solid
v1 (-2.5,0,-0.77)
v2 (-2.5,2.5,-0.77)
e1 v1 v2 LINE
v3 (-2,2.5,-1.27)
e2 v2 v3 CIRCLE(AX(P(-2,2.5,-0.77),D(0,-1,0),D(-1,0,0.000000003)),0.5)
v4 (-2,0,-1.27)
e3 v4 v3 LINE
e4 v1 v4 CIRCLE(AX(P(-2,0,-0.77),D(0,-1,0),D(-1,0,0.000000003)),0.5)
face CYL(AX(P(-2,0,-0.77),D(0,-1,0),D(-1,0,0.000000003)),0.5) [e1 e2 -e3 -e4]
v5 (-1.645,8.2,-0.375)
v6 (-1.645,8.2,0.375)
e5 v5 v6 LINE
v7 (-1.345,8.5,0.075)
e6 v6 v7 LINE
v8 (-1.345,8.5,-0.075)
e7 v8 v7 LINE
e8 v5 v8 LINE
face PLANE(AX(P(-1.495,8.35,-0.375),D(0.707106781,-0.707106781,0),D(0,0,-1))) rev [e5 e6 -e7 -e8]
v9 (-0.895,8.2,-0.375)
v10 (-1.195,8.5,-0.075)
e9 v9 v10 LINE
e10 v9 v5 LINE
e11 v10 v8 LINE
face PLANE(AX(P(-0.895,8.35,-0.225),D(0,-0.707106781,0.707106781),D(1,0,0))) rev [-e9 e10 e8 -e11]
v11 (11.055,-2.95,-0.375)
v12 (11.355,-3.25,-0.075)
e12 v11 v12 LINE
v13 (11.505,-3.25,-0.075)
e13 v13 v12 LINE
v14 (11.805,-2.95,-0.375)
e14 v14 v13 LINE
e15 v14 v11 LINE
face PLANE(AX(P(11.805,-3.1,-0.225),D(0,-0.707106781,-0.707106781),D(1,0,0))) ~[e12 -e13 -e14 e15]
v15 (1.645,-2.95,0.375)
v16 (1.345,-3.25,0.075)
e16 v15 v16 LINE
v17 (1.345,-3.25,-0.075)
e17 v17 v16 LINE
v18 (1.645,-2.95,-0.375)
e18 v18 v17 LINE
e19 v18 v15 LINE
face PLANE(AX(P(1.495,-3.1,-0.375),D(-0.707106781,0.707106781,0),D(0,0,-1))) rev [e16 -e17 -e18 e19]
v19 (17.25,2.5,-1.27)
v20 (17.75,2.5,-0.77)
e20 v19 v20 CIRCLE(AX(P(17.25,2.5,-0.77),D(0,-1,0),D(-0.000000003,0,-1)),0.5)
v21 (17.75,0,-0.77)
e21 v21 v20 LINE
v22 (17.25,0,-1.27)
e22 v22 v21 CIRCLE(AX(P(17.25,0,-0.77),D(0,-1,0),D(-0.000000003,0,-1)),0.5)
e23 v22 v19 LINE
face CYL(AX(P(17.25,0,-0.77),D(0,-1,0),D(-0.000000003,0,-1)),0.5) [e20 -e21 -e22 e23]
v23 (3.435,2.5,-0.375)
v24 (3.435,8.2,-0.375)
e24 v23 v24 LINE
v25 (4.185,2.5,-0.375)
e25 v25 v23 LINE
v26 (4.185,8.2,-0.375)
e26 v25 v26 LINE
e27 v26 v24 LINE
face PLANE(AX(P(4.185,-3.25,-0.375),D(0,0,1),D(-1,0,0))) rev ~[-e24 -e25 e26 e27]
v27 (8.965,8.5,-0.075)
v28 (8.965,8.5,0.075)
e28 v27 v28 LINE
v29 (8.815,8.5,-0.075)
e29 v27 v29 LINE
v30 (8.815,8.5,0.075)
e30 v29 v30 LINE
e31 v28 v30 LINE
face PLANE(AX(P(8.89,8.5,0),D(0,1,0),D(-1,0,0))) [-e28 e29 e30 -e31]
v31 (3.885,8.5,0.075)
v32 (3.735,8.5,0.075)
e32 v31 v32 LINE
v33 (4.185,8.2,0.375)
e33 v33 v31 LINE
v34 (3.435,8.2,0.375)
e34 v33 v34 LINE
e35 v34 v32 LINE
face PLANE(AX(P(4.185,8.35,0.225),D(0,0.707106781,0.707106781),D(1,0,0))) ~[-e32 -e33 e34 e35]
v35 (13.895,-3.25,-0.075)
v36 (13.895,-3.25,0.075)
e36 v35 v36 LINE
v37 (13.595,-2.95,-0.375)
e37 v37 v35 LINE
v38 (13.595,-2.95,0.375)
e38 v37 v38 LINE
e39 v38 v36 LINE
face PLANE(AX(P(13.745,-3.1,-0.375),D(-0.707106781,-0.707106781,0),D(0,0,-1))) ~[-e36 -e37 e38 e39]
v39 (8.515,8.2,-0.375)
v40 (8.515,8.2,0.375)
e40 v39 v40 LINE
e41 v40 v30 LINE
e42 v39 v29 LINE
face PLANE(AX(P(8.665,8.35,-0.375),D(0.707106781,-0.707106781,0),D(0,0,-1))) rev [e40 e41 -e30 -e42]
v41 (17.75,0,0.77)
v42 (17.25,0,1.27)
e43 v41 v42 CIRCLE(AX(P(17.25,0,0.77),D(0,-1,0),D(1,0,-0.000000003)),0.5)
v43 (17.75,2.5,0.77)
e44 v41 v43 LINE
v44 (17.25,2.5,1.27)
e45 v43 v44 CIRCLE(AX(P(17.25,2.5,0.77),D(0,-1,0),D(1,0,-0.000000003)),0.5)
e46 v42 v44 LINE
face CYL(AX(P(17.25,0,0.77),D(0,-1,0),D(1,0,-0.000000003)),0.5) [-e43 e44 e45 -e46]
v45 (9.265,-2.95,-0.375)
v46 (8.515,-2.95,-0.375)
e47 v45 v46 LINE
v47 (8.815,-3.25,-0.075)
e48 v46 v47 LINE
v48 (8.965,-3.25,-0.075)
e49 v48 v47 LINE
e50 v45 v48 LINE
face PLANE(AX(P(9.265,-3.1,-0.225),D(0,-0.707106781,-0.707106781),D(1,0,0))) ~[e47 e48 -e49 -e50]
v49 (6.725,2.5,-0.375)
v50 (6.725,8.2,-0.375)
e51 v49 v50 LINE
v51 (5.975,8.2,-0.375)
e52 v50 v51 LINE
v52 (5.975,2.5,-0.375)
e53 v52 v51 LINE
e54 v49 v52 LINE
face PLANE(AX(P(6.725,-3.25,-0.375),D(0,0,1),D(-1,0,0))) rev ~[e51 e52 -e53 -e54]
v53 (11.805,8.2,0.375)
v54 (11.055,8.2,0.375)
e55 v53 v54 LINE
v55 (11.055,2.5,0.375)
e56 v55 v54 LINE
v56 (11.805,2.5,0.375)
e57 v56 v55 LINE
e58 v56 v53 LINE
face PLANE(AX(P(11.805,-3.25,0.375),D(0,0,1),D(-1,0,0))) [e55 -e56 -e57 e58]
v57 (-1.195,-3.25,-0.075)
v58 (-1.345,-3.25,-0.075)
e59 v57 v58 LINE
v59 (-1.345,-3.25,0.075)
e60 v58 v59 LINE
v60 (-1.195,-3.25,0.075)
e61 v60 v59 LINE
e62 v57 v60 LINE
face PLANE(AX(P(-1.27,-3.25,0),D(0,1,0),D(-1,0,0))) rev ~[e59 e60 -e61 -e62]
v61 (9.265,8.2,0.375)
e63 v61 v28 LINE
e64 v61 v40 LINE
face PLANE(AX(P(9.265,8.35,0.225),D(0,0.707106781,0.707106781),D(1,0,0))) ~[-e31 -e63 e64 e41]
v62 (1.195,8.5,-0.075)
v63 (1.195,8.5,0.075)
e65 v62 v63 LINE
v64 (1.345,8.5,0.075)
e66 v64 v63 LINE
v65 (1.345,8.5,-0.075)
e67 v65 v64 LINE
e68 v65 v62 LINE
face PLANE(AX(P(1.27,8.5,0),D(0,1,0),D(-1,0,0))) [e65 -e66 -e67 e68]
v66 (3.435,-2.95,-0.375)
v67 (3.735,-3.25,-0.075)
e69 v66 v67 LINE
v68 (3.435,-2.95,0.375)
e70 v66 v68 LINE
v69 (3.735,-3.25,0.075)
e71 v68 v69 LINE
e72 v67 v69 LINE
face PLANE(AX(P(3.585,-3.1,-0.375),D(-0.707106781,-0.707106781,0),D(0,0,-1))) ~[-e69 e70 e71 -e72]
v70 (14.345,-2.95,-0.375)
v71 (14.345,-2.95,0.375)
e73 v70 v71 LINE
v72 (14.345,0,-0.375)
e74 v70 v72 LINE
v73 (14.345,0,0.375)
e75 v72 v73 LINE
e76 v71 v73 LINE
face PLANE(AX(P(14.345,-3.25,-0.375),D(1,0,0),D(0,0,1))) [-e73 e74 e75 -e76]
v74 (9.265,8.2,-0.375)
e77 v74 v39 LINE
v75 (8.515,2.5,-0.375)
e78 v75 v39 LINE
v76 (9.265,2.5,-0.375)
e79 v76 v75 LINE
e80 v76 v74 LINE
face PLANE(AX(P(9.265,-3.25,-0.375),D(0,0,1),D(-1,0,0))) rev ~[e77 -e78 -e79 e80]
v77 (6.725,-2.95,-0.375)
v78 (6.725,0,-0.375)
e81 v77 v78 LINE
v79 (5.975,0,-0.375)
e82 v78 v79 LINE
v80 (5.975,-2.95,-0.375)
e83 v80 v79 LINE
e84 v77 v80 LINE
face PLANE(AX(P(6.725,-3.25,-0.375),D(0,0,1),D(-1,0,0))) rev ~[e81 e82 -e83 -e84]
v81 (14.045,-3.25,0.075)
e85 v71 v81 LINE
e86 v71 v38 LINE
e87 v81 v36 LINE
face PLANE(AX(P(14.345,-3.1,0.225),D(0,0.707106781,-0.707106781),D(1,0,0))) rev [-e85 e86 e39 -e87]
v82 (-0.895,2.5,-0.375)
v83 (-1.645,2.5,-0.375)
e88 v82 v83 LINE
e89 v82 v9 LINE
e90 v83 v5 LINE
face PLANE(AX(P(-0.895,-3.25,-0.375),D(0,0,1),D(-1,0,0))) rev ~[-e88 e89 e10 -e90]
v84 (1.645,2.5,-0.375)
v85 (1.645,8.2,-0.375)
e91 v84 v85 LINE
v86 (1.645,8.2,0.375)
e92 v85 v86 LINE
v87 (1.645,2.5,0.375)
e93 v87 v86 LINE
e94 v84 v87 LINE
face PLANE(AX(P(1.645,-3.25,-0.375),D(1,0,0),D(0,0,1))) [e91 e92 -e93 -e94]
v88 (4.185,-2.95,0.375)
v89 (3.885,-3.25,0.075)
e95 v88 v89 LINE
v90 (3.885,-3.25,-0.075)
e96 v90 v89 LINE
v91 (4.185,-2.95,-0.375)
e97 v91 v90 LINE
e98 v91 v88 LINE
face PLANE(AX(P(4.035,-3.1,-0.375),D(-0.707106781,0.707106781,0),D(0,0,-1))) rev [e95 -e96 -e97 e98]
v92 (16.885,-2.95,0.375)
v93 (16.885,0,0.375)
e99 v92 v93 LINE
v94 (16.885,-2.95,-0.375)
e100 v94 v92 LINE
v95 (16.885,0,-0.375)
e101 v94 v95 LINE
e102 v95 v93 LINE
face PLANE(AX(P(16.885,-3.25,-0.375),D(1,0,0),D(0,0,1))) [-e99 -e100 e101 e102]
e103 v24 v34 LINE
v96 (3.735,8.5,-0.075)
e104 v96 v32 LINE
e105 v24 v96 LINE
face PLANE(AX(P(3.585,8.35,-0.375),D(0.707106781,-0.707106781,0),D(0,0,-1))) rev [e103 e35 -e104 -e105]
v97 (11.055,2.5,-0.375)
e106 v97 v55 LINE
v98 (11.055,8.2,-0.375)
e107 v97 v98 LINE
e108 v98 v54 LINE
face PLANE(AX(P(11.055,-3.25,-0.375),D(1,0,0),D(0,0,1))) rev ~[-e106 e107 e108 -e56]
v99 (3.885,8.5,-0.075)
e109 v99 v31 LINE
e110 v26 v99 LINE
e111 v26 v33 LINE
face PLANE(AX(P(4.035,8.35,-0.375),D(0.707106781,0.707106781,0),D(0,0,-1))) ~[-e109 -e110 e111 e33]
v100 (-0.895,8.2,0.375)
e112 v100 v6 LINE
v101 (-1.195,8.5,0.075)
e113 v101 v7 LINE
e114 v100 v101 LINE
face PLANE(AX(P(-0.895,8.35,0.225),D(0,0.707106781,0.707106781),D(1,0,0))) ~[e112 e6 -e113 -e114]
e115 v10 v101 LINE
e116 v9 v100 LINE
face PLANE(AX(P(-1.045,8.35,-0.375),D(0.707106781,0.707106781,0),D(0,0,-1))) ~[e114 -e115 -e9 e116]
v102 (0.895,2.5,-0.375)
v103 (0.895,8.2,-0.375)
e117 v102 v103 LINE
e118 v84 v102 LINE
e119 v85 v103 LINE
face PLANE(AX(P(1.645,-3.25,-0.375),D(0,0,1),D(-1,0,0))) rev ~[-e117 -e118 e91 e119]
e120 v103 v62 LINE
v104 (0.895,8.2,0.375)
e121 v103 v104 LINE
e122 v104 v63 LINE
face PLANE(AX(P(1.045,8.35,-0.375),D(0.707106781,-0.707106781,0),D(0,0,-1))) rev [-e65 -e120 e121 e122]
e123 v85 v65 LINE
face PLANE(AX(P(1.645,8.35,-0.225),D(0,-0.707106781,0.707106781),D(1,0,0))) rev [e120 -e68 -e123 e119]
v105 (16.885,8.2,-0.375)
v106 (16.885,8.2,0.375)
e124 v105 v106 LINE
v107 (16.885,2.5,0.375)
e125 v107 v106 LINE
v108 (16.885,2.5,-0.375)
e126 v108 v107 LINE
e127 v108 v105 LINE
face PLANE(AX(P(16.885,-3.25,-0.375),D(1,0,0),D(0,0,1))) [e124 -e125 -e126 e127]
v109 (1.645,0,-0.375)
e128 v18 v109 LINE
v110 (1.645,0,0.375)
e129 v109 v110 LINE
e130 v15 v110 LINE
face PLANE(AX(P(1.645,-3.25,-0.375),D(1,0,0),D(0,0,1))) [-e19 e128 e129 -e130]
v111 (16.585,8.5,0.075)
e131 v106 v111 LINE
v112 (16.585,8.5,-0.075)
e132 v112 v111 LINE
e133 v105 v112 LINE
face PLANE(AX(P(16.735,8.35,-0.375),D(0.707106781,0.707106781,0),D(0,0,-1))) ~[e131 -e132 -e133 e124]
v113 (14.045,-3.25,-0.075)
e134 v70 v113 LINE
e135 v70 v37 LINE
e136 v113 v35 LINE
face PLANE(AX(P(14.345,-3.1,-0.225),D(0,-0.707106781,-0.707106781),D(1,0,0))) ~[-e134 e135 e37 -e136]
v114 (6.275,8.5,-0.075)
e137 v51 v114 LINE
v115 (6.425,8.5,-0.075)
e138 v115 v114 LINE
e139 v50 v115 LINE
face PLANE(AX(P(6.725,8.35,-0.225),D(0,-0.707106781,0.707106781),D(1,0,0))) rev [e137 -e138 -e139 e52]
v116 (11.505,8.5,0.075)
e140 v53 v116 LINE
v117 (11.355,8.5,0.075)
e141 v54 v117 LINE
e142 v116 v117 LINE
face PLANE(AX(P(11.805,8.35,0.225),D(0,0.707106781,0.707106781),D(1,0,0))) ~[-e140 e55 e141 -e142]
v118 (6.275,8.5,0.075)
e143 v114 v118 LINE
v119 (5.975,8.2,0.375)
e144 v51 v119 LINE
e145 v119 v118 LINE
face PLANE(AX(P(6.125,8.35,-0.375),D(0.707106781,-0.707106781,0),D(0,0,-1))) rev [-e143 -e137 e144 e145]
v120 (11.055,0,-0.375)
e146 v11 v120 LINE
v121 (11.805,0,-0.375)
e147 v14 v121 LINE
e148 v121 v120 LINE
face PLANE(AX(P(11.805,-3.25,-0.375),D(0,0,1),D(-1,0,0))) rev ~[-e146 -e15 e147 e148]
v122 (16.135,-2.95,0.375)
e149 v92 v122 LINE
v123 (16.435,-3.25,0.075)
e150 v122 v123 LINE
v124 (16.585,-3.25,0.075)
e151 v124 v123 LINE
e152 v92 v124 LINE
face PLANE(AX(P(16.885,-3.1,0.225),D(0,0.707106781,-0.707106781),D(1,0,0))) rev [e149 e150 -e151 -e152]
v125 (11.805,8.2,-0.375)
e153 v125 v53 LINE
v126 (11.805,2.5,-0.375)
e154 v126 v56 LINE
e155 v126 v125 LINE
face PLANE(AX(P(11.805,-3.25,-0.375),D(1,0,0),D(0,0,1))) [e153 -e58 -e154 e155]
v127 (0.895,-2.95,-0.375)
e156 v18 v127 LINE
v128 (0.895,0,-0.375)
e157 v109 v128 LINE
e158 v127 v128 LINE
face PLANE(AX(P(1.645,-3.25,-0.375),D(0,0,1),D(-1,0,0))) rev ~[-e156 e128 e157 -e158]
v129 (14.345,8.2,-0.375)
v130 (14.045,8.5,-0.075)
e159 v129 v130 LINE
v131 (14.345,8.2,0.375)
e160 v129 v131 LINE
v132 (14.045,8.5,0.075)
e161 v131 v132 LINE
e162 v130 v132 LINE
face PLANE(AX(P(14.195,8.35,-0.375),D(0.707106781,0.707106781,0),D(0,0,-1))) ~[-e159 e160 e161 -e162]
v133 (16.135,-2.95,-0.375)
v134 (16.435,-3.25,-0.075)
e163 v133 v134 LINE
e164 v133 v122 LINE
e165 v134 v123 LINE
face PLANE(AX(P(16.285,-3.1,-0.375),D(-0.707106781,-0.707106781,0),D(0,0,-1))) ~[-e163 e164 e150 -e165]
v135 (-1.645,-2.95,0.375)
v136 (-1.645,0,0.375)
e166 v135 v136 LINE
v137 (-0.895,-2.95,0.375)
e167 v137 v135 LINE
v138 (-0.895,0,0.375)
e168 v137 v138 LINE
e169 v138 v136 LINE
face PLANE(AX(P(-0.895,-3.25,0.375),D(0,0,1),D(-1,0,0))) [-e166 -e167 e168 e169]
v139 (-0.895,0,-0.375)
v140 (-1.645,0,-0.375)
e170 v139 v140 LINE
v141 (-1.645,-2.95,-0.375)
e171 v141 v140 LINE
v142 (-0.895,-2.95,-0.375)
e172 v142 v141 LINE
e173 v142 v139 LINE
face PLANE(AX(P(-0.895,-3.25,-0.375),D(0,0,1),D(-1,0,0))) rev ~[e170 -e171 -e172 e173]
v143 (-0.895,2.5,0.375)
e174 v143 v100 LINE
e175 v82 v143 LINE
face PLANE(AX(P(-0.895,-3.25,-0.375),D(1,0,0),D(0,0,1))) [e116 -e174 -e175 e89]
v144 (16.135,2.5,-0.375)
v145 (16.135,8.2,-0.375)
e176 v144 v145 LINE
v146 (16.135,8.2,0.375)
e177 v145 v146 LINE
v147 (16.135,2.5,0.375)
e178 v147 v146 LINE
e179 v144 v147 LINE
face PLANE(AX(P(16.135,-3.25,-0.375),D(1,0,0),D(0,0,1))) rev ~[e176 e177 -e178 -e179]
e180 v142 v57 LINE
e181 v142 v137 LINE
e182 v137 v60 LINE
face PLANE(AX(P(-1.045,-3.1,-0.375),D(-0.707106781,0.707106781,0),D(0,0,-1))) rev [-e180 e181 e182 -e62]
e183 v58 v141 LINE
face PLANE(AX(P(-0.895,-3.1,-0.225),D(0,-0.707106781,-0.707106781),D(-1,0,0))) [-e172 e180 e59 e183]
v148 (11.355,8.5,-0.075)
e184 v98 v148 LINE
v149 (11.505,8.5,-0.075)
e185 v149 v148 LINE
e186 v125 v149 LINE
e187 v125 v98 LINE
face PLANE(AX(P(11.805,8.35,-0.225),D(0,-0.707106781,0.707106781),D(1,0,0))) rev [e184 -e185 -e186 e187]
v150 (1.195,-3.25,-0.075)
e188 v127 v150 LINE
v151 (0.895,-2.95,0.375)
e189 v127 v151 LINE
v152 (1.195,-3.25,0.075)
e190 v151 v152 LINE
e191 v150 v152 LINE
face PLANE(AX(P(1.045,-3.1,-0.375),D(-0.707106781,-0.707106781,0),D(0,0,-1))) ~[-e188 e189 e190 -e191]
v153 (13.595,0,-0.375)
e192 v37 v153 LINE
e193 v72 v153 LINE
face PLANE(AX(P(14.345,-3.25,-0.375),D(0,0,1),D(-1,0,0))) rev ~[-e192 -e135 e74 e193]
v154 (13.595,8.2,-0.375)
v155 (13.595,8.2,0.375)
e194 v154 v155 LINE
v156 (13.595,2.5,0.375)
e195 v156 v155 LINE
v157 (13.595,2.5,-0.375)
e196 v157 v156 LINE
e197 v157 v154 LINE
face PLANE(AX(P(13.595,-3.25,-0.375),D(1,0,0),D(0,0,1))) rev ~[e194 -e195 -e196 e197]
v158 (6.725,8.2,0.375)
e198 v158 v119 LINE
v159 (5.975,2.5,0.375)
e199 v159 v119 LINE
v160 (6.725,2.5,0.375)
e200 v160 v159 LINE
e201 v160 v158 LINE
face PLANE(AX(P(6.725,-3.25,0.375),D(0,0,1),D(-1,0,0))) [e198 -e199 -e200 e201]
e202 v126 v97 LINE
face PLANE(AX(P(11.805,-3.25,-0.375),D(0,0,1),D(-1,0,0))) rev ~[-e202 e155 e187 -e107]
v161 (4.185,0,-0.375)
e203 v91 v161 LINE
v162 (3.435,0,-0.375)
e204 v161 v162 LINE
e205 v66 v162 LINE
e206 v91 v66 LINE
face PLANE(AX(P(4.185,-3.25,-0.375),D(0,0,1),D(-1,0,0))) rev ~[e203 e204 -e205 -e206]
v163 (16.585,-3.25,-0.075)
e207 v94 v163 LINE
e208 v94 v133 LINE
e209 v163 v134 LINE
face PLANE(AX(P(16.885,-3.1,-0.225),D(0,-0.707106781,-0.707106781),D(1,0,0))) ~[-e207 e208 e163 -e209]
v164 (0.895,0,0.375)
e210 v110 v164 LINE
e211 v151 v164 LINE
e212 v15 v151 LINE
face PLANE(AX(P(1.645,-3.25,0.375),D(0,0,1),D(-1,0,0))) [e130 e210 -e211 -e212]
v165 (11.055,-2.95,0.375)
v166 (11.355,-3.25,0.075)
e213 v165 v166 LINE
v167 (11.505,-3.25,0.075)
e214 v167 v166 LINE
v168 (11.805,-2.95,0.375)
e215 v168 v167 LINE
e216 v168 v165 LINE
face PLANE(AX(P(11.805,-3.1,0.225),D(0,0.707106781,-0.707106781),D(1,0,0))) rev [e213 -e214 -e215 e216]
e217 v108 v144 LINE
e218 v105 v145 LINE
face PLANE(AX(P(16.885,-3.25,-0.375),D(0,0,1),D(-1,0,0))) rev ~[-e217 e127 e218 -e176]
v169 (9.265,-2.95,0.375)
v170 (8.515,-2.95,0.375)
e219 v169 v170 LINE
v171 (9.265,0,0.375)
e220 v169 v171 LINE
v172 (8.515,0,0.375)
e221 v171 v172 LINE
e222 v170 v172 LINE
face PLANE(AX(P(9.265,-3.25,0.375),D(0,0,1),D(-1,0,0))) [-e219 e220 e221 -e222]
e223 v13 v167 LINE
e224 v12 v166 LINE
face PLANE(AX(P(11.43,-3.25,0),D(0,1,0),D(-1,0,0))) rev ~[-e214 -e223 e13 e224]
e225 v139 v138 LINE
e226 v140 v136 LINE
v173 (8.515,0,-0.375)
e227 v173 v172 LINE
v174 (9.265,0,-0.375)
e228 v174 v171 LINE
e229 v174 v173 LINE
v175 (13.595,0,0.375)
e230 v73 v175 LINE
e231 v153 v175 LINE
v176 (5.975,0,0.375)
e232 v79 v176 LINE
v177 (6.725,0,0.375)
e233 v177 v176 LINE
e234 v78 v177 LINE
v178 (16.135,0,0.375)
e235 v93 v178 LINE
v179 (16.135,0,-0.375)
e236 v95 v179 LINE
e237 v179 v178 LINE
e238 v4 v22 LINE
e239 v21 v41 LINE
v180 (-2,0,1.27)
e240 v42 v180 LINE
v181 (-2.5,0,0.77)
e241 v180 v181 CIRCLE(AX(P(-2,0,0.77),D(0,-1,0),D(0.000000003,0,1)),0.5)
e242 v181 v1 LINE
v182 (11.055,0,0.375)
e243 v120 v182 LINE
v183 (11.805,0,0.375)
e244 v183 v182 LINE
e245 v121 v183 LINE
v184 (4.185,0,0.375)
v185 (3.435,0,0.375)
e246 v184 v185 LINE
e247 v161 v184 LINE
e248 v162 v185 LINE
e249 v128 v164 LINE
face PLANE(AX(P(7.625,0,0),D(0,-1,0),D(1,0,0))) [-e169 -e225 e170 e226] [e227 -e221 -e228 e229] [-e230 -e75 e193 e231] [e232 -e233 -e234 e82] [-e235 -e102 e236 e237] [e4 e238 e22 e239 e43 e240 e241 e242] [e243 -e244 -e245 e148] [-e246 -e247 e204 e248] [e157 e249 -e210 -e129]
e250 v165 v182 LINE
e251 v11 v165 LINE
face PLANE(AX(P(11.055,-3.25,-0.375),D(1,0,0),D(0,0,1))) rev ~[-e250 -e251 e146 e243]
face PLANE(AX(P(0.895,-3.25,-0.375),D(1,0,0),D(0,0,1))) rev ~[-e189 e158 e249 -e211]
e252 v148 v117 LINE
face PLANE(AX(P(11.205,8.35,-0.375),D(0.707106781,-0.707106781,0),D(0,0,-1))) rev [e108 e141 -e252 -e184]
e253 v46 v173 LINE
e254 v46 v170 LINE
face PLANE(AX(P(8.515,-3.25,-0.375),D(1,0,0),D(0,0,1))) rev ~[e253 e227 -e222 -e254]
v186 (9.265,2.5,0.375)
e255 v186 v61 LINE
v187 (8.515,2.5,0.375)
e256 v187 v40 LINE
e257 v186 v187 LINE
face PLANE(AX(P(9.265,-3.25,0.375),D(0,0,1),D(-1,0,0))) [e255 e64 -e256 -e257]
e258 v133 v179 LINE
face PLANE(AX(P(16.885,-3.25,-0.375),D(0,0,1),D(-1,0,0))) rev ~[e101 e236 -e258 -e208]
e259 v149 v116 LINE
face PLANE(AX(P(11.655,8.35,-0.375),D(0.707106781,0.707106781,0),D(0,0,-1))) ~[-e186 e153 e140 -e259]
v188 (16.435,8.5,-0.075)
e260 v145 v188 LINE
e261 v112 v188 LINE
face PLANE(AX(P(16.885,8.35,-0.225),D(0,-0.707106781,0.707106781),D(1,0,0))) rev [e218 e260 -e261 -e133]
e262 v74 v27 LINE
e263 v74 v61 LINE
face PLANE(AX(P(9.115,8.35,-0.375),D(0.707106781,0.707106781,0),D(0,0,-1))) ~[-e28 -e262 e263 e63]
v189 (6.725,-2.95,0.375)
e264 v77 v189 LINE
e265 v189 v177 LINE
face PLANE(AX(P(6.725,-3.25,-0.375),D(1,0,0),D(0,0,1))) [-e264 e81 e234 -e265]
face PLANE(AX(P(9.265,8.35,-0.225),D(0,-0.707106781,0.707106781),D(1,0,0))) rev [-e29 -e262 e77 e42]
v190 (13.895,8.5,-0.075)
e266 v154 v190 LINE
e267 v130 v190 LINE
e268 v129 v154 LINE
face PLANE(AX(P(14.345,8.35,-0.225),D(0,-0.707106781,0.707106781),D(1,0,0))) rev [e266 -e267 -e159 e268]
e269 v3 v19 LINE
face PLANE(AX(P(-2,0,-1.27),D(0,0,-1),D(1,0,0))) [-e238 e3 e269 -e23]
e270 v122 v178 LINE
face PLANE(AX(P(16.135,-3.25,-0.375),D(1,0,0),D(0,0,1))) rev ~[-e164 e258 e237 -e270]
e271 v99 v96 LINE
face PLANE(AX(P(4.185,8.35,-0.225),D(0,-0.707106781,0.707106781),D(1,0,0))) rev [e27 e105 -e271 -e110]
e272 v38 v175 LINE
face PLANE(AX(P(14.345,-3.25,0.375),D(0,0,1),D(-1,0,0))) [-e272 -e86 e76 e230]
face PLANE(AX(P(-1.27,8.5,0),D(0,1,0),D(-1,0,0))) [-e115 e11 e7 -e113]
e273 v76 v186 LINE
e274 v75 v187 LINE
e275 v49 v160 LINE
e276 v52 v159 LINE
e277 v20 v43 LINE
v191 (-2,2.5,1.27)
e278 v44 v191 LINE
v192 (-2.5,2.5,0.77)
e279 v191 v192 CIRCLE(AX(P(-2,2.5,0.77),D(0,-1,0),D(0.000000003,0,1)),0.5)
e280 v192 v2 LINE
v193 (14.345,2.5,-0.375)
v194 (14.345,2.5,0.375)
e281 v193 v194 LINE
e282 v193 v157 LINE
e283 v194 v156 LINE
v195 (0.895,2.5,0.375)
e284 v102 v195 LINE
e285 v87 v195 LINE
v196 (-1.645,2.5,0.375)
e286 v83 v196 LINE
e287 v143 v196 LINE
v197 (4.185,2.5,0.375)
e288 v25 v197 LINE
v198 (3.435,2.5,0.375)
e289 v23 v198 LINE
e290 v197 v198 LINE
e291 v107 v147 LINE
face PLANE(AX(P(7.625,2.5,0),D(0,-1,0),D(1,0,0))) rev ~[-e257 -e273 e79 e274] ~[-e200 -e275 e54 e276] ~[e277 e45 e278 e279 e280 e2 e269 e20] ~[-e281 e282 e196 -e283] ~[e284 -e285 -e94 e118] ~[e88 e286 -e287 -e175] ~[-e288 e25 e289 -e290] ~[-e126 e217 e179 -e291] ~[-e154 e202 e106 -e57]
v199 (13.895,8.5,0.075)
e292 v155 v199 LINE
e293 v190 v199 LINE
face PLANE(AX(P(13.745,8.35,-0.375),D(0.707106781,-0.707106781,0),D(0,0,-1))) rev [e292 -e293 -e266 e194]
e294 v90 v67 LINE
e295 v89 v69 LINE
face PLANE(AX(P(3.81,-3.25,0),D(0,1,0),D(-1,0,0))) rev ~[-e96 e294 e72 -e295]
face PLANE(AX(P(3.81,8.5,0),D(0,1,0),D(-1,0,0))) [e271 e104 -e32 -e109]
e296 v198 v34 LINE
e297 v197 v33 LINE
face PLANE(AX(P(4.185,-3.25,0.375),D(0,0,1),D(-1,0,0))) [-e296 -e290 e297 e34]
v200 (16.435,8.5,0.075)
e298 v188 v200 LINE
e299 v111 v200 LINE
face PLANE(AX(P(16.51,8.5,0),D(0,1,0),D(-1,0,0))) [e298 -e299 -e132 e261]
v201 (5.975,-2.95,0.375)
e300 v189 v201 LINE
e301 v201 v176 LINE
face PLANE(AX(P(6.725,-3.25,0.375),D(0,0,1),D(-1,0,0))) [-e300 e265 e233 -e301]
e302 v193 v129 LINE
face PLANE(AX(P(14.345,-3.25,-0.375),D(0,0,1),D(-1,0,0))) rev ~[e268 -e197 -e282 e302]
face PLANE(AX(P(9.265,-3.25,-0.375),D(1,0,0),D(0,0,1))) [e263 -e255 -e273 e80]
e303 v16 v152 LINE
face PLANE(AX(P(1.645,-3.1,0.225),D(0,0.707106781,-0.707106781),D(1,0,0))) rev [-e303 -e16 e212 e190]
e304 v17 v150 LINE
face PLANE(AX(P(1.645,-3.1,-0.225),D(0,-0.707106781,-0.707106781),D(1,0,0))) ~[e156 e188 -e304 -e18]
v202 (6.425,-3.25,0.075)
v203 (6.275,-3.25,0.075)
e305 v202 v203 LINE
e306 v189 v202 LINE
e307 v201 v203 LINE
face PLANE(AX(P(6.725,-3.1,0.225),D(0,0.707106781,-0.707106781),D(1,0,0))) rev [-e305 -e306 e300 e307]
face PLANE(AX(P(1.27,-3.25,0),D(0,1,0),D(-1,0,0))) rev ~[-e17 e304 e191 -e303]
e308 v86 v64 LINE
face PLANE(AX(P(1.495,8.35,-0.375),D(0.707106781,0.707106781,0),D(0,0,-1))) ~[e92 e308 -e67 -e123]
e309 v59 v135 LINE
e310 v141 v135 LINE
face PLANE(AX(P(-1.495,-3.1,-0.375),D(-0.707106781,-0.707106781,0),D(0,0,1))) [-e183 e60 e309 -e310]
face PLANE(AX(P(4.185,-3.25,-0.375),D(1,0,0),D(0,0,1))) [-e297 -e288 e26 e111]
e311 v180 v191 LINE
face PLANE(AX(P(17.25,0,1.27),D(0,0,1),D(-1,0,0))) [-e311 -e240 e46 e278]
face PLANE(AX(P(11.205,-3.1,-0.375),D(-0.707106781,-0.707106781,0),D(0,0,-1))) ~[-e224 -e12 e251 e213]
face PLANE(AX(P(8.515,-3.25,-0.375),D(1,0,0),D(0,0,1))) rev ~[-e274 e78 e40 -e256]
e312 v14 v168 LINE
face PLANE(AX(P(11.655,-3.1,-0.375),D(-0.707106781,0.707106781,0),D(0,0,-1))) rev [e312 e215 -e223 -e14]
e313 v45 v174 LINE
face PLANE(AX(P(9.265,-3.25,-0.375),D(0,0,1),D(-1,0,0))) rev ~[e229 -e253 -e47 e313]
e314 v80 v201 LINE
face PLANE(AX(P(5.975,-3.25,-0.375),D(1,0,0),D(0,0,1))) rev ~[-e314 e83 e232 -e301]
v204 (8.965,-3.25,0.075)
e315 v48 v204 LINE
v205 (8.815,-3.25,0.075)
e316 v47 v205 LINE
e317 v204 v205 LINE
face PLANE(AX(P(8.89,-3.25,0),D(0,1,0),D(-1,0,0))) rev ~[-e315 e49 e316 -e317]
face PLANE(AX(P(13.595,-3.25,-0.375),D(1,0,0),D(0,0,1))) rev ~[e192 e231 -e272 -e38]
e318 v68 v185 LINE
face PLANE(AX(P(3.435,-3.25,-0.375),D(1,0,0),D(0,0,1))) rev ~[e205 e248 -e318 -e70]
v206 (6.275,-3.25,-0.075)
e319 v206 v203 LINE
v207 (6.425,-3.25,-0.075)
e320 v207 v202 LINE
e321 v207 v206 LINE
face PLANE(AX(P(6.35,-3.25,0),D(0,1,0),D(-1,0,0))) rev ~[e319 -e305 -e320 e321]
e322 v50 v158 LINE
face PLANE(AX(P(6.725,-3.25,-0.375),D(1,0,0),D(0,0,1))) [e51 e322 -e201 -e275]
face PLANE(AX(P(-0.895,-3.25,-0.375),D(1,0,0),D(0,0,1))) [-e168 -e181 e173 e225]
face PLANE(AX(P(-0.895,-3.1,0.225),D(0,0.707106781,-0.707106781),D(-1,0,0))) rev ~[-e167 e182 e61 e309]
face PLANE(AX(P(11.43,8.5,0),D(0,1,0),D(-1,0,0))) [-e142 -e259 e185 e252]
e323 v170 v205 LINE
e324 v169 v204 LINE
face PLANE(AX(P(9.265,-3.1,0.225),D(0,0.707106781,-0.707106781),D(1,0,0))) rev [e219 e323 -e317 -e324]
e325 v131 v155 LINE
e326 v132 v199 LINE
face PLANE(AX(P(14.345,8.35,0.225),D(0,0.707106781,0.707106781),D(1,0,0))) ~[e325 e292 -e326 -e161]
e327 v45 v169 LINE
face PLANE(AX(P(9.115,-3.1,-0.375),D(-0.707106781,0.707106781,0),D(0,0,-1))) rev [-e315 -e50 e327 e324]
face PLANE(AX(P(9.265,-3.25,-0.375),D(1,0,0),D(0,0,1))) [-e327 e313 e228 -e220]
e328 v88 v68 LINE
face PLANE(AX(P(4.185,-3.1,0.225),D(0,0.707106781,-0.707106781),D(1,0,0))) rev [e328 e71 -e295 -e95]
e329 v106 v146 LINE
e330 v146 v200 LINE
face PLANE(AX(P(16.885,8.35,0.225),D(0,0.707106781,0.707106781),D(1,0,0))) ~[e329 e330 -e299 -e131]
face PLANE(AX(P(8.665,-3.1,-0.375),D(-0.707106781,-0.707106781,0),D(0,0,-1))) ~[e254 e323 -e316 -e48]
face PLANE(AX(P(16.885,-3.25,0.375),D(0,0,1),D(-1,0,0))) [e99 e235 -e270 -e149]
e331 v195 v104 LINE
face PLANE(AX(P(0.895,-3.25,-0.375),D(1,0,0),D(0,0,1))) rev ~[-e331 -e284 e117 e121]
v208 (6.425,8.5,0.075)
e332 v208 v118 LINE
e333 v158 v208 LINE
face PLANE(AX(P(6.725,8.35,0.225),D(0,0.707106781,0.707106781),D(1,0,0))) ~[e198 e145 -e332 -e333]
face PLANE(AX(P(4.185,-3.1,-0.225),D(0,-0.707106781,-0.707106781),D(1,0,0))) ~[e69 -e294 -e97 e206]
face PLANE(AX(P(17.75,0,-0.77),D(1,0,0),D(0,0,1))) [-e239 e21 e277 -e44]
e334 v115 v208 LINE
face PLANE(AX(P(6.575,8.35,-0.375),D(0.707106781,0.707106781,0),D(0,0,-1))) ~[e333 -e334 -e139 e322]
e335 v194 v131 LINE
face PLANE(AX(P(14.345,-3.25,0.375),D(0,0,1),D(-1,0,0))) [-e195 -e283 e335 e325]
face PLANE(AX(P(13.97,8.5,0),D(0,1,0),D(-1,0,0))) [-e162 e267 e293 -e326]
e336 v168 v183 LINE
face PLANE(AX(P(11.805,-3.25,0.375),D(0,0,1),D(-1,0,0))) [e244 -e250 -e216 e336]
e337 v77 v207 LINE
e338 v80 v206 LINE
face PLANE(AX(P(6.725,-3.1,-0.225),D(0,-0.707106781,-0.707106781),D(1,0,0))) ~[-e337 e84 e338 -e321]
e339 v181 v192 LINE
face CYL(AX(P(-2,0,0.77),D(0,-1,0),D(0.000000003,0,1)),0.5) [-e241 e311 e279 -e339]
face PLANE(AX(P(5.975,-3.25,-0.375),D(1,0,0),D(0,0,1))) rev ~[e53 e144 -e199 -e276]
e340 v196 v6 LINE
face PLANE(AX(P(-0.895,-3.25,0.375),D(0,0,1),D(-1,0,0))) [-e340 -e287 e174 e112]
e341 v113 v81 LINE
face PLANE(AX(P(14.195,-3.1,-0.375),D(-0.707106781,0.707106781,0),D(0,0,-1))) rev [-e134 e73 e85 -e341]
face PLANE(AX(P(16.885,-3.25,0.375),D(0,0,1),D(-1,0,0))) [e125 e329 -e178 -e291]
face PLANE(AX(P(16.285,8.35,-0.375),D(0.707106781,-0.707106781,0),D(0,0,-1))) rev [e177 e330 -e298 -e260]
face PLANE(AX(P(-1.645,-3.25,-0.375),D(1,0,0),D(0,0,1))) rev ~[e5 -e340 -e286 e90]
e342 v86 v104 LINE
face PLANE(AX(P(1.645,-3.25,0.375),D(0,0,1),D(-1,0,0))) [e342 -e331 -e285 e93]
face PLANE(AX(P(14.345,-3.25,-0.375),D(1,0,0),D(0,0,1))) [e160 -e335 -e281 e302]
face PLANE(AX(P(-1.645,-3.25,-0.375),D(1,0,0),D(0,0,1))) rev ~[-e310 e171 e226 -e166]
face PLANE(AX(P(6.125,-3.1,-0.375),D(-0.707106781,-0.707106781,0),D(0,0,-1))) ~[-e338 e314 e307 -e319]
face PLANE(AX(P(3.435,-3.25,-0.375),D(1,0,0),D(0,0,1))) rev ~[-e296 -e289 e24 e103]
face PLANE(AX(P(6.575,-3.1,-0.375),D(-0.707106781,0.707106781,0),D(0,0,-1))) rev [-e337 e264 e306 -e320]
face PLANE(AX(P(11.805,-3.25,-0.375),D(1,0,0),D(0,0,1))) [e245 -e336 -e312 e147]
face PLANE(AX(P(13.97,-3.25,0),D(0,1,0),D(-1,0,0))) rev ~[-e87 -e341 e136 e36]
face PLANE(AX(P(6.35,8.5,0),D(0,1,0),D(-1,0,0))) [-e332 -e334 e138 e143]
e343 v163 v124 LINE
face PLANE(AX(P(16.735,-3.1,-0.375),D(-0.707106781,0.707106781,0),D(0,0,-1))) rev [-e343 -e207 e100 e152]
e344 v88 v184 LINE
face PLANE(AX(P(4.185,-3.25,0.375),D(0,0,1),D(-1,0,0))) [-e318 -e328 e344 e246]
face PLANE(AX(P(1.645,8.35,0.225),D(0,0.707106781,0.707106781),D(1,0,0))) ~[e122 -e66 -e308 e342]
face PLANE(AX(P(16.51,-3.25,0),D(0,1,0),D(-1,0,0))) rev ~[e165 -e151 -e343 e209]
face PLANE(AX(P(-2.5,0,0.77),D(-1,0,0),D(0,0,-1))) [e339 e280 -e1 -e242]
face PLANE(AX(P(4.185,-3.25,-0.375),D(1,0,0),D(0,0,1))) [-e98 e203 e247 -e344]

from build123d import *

# Parameters (mm, degrees)
BOSS_EXTRUDE1_DEPTH      = 2.5
BOSS_EXTRUDE2_DEPTH      = 8.5
BOSS_EXTRUDE2_DEPTH_BACK = 3.25
SKETCH2_W                = 0.75
SKETCH2_H                = 0.75
CHAMFER1_SIZE            = 0.3


with BuildPart() as part:
    # Sketch1 → Boss-Extrude1 (new body)
    with BuildSketch(Plane(origin=(0, 0, 0), x_dir=(-1, 0, 0), z_dir=(0, 1, 0))):
        with BuildLine():
            Line((-17.25, 1.27), (2, 1.27))
            ThreePointArc((2, 1.27), (2.353553391, 1.123553391), (2.5, 0.77))
            Line((2.5, 0.77), (2.5, -0.77))
            ThreePointArc((2.5, -0.77), (2.353553391, -1.123553391), (2, -1.27))
            Line((2, -1.27), (-17.25, -1.27))
            ThreePointArc((-17.25, -1.27), (-17.603553391, -1.123553391), (-17.75, -0.77))
            Line((-17.75, -0.77), (-17.75, 0.77))
            ThreePointArc((-17.75, 0.77), (-17.603553391, 1.123553391), (-17.25, 1.27))
        make_face()
    extrude(amount=BOSS_EXTRUDE1_DEPTH)

    # Sketch2 → Boss-Extrude2 (add, two sides: drawn at the far end of the back side and taken through both)
    with BuildSketch(Plane(origin=(0, 0, 0), x_dir=(-1, 0, 0), z_dir=(0, 1, 0)).offset(-BOSS_EXTRUDE2_DEPTH_BACK)):
        with Locations((1.27, 0)):
            Rectangle(SKETCH2_W, SKETCH2_H)
        with Locations((-1.27, 0)):
            Rectangle(SKETCH2_W, SKETCH2_H)
        with Locations((-3.81, 0)):
            Rectangle(SKETCH2_W, SKETCH2_H)
        with Locations((-6.35, 0)):
            Rectangle(SKETCH2_W, SKETCH2_H)
        with Locations((-8.89, 0)):
            Rectangle(SKETCH2_W, SKETCH2_H)
        with Locations((-11.43, 0)):
            Rectangle(SKETCH2_W, SKETCH2_H)
        with Locations((-13.97, 0)):
            Rectangle(SKETCH2_W, SKETCH2_H)
        with Locations((-16.51, 0)):
            Rectangle(SKETCH2_W, SKETCH2_H)
    extrude(amount=BOSS_EXTRUDE2_DEPTH + BOSS_EXTRUDE2_DEPTH_BACK)

    # Chamfer1
    chamfer1_edges = [part.edges().sort_by_distance(p)[0] for p in [
        (9.265, -3.25, 0),
        (8.89, -3.25, 0.375),
        (8.515, -3.25, 0),
        (8.89, -3.25, -0.375),
        (9.265, 8.5, 0),
        (8.89, 8.5, -0.375),
        (8.515, 8.5, 0),
        (8.89, 8.5, 0.375),
        (11.055, -3.25, 0),
        (11.43, -3.25, -0.375),
        (11.805, -3.25, 0),
        (11.43, -3.25, 0.375),
        (11.055, 8.5, 0),
        (11.43, 8.5, 0.375),
        (11.805, 8.5, 0),
        (11.43, 8.5, -0.375),
        (14.345, -3.25, 0),
        (13.97, -3.25, 0.375),
        (13.595, -3.25, 0),
        (13.97, -3.25, -0.375),
        (14.345, 8.5, 0),
        (13.97, 8.5, -0.375),
        (13.595, 8.5, 0),
        (13.97, 8.5, 0.375),
        (16.135, -3.25, 0),
        (16.51, -3.25, -0.375),
        (16.885, -3.25, 0),
        (16.51, -3.25, 0.375),
        (16.135, 8.5, 0),
        (16.51, 8.5, 0.375),
        (16.885, 8.5, 0),
        (16.51, 8.5, -0.375),
        (-0.895, -3.25, 0),
        (-1.27, -3.25, 0.375),
        (-1.645, -3.25, 0),
        (-1.27, -3.25, -0.375),
        (-0.895, 8.5, 0),
        (-1.27, 8.5, -0.375),
        (-1.645, 8.5, 0),
        (-1.27, 8.5, 0.375),
        (0.895, -3.25, 0),
        (1.27, -3.25, -0.375),
        (1.645, -3.25, 0),
        (1.27, -3.25, 0.375),
        (0.895, 8.5, 0),
        (1.27, 8.5, 0.375),
        (1.645, 8.5, 0),
        (1.27, 8.5, -0.375),
        (4.185, -3.25, 0),
        (3.81, -3.25, 0.375),
        (3.435, -3.25, 0),
        (3.81, -3.25, -0.375),
        (4.185, 8.5, 0),
        (3.81, 8.5, -0.375),
        (3.435, 8.5, 0),
        (3.81, 8.5, 0.375),
        (5.975, -3.25, 0),
        (6.35, -3.25, -0.375),
        (6.725, -3.25, 0),
        (6.35, -3.25, 0.375),
        (5.975, 8.5, 0),
        (6.35, 8.5, 0.375),
        (6.725, 8.5, 0),
        (6.35, 8.5, -0.375),
    ]]
    chamfer(chamfer1_edges, length=CHAMFER1_SIZE)


solid = part.part
